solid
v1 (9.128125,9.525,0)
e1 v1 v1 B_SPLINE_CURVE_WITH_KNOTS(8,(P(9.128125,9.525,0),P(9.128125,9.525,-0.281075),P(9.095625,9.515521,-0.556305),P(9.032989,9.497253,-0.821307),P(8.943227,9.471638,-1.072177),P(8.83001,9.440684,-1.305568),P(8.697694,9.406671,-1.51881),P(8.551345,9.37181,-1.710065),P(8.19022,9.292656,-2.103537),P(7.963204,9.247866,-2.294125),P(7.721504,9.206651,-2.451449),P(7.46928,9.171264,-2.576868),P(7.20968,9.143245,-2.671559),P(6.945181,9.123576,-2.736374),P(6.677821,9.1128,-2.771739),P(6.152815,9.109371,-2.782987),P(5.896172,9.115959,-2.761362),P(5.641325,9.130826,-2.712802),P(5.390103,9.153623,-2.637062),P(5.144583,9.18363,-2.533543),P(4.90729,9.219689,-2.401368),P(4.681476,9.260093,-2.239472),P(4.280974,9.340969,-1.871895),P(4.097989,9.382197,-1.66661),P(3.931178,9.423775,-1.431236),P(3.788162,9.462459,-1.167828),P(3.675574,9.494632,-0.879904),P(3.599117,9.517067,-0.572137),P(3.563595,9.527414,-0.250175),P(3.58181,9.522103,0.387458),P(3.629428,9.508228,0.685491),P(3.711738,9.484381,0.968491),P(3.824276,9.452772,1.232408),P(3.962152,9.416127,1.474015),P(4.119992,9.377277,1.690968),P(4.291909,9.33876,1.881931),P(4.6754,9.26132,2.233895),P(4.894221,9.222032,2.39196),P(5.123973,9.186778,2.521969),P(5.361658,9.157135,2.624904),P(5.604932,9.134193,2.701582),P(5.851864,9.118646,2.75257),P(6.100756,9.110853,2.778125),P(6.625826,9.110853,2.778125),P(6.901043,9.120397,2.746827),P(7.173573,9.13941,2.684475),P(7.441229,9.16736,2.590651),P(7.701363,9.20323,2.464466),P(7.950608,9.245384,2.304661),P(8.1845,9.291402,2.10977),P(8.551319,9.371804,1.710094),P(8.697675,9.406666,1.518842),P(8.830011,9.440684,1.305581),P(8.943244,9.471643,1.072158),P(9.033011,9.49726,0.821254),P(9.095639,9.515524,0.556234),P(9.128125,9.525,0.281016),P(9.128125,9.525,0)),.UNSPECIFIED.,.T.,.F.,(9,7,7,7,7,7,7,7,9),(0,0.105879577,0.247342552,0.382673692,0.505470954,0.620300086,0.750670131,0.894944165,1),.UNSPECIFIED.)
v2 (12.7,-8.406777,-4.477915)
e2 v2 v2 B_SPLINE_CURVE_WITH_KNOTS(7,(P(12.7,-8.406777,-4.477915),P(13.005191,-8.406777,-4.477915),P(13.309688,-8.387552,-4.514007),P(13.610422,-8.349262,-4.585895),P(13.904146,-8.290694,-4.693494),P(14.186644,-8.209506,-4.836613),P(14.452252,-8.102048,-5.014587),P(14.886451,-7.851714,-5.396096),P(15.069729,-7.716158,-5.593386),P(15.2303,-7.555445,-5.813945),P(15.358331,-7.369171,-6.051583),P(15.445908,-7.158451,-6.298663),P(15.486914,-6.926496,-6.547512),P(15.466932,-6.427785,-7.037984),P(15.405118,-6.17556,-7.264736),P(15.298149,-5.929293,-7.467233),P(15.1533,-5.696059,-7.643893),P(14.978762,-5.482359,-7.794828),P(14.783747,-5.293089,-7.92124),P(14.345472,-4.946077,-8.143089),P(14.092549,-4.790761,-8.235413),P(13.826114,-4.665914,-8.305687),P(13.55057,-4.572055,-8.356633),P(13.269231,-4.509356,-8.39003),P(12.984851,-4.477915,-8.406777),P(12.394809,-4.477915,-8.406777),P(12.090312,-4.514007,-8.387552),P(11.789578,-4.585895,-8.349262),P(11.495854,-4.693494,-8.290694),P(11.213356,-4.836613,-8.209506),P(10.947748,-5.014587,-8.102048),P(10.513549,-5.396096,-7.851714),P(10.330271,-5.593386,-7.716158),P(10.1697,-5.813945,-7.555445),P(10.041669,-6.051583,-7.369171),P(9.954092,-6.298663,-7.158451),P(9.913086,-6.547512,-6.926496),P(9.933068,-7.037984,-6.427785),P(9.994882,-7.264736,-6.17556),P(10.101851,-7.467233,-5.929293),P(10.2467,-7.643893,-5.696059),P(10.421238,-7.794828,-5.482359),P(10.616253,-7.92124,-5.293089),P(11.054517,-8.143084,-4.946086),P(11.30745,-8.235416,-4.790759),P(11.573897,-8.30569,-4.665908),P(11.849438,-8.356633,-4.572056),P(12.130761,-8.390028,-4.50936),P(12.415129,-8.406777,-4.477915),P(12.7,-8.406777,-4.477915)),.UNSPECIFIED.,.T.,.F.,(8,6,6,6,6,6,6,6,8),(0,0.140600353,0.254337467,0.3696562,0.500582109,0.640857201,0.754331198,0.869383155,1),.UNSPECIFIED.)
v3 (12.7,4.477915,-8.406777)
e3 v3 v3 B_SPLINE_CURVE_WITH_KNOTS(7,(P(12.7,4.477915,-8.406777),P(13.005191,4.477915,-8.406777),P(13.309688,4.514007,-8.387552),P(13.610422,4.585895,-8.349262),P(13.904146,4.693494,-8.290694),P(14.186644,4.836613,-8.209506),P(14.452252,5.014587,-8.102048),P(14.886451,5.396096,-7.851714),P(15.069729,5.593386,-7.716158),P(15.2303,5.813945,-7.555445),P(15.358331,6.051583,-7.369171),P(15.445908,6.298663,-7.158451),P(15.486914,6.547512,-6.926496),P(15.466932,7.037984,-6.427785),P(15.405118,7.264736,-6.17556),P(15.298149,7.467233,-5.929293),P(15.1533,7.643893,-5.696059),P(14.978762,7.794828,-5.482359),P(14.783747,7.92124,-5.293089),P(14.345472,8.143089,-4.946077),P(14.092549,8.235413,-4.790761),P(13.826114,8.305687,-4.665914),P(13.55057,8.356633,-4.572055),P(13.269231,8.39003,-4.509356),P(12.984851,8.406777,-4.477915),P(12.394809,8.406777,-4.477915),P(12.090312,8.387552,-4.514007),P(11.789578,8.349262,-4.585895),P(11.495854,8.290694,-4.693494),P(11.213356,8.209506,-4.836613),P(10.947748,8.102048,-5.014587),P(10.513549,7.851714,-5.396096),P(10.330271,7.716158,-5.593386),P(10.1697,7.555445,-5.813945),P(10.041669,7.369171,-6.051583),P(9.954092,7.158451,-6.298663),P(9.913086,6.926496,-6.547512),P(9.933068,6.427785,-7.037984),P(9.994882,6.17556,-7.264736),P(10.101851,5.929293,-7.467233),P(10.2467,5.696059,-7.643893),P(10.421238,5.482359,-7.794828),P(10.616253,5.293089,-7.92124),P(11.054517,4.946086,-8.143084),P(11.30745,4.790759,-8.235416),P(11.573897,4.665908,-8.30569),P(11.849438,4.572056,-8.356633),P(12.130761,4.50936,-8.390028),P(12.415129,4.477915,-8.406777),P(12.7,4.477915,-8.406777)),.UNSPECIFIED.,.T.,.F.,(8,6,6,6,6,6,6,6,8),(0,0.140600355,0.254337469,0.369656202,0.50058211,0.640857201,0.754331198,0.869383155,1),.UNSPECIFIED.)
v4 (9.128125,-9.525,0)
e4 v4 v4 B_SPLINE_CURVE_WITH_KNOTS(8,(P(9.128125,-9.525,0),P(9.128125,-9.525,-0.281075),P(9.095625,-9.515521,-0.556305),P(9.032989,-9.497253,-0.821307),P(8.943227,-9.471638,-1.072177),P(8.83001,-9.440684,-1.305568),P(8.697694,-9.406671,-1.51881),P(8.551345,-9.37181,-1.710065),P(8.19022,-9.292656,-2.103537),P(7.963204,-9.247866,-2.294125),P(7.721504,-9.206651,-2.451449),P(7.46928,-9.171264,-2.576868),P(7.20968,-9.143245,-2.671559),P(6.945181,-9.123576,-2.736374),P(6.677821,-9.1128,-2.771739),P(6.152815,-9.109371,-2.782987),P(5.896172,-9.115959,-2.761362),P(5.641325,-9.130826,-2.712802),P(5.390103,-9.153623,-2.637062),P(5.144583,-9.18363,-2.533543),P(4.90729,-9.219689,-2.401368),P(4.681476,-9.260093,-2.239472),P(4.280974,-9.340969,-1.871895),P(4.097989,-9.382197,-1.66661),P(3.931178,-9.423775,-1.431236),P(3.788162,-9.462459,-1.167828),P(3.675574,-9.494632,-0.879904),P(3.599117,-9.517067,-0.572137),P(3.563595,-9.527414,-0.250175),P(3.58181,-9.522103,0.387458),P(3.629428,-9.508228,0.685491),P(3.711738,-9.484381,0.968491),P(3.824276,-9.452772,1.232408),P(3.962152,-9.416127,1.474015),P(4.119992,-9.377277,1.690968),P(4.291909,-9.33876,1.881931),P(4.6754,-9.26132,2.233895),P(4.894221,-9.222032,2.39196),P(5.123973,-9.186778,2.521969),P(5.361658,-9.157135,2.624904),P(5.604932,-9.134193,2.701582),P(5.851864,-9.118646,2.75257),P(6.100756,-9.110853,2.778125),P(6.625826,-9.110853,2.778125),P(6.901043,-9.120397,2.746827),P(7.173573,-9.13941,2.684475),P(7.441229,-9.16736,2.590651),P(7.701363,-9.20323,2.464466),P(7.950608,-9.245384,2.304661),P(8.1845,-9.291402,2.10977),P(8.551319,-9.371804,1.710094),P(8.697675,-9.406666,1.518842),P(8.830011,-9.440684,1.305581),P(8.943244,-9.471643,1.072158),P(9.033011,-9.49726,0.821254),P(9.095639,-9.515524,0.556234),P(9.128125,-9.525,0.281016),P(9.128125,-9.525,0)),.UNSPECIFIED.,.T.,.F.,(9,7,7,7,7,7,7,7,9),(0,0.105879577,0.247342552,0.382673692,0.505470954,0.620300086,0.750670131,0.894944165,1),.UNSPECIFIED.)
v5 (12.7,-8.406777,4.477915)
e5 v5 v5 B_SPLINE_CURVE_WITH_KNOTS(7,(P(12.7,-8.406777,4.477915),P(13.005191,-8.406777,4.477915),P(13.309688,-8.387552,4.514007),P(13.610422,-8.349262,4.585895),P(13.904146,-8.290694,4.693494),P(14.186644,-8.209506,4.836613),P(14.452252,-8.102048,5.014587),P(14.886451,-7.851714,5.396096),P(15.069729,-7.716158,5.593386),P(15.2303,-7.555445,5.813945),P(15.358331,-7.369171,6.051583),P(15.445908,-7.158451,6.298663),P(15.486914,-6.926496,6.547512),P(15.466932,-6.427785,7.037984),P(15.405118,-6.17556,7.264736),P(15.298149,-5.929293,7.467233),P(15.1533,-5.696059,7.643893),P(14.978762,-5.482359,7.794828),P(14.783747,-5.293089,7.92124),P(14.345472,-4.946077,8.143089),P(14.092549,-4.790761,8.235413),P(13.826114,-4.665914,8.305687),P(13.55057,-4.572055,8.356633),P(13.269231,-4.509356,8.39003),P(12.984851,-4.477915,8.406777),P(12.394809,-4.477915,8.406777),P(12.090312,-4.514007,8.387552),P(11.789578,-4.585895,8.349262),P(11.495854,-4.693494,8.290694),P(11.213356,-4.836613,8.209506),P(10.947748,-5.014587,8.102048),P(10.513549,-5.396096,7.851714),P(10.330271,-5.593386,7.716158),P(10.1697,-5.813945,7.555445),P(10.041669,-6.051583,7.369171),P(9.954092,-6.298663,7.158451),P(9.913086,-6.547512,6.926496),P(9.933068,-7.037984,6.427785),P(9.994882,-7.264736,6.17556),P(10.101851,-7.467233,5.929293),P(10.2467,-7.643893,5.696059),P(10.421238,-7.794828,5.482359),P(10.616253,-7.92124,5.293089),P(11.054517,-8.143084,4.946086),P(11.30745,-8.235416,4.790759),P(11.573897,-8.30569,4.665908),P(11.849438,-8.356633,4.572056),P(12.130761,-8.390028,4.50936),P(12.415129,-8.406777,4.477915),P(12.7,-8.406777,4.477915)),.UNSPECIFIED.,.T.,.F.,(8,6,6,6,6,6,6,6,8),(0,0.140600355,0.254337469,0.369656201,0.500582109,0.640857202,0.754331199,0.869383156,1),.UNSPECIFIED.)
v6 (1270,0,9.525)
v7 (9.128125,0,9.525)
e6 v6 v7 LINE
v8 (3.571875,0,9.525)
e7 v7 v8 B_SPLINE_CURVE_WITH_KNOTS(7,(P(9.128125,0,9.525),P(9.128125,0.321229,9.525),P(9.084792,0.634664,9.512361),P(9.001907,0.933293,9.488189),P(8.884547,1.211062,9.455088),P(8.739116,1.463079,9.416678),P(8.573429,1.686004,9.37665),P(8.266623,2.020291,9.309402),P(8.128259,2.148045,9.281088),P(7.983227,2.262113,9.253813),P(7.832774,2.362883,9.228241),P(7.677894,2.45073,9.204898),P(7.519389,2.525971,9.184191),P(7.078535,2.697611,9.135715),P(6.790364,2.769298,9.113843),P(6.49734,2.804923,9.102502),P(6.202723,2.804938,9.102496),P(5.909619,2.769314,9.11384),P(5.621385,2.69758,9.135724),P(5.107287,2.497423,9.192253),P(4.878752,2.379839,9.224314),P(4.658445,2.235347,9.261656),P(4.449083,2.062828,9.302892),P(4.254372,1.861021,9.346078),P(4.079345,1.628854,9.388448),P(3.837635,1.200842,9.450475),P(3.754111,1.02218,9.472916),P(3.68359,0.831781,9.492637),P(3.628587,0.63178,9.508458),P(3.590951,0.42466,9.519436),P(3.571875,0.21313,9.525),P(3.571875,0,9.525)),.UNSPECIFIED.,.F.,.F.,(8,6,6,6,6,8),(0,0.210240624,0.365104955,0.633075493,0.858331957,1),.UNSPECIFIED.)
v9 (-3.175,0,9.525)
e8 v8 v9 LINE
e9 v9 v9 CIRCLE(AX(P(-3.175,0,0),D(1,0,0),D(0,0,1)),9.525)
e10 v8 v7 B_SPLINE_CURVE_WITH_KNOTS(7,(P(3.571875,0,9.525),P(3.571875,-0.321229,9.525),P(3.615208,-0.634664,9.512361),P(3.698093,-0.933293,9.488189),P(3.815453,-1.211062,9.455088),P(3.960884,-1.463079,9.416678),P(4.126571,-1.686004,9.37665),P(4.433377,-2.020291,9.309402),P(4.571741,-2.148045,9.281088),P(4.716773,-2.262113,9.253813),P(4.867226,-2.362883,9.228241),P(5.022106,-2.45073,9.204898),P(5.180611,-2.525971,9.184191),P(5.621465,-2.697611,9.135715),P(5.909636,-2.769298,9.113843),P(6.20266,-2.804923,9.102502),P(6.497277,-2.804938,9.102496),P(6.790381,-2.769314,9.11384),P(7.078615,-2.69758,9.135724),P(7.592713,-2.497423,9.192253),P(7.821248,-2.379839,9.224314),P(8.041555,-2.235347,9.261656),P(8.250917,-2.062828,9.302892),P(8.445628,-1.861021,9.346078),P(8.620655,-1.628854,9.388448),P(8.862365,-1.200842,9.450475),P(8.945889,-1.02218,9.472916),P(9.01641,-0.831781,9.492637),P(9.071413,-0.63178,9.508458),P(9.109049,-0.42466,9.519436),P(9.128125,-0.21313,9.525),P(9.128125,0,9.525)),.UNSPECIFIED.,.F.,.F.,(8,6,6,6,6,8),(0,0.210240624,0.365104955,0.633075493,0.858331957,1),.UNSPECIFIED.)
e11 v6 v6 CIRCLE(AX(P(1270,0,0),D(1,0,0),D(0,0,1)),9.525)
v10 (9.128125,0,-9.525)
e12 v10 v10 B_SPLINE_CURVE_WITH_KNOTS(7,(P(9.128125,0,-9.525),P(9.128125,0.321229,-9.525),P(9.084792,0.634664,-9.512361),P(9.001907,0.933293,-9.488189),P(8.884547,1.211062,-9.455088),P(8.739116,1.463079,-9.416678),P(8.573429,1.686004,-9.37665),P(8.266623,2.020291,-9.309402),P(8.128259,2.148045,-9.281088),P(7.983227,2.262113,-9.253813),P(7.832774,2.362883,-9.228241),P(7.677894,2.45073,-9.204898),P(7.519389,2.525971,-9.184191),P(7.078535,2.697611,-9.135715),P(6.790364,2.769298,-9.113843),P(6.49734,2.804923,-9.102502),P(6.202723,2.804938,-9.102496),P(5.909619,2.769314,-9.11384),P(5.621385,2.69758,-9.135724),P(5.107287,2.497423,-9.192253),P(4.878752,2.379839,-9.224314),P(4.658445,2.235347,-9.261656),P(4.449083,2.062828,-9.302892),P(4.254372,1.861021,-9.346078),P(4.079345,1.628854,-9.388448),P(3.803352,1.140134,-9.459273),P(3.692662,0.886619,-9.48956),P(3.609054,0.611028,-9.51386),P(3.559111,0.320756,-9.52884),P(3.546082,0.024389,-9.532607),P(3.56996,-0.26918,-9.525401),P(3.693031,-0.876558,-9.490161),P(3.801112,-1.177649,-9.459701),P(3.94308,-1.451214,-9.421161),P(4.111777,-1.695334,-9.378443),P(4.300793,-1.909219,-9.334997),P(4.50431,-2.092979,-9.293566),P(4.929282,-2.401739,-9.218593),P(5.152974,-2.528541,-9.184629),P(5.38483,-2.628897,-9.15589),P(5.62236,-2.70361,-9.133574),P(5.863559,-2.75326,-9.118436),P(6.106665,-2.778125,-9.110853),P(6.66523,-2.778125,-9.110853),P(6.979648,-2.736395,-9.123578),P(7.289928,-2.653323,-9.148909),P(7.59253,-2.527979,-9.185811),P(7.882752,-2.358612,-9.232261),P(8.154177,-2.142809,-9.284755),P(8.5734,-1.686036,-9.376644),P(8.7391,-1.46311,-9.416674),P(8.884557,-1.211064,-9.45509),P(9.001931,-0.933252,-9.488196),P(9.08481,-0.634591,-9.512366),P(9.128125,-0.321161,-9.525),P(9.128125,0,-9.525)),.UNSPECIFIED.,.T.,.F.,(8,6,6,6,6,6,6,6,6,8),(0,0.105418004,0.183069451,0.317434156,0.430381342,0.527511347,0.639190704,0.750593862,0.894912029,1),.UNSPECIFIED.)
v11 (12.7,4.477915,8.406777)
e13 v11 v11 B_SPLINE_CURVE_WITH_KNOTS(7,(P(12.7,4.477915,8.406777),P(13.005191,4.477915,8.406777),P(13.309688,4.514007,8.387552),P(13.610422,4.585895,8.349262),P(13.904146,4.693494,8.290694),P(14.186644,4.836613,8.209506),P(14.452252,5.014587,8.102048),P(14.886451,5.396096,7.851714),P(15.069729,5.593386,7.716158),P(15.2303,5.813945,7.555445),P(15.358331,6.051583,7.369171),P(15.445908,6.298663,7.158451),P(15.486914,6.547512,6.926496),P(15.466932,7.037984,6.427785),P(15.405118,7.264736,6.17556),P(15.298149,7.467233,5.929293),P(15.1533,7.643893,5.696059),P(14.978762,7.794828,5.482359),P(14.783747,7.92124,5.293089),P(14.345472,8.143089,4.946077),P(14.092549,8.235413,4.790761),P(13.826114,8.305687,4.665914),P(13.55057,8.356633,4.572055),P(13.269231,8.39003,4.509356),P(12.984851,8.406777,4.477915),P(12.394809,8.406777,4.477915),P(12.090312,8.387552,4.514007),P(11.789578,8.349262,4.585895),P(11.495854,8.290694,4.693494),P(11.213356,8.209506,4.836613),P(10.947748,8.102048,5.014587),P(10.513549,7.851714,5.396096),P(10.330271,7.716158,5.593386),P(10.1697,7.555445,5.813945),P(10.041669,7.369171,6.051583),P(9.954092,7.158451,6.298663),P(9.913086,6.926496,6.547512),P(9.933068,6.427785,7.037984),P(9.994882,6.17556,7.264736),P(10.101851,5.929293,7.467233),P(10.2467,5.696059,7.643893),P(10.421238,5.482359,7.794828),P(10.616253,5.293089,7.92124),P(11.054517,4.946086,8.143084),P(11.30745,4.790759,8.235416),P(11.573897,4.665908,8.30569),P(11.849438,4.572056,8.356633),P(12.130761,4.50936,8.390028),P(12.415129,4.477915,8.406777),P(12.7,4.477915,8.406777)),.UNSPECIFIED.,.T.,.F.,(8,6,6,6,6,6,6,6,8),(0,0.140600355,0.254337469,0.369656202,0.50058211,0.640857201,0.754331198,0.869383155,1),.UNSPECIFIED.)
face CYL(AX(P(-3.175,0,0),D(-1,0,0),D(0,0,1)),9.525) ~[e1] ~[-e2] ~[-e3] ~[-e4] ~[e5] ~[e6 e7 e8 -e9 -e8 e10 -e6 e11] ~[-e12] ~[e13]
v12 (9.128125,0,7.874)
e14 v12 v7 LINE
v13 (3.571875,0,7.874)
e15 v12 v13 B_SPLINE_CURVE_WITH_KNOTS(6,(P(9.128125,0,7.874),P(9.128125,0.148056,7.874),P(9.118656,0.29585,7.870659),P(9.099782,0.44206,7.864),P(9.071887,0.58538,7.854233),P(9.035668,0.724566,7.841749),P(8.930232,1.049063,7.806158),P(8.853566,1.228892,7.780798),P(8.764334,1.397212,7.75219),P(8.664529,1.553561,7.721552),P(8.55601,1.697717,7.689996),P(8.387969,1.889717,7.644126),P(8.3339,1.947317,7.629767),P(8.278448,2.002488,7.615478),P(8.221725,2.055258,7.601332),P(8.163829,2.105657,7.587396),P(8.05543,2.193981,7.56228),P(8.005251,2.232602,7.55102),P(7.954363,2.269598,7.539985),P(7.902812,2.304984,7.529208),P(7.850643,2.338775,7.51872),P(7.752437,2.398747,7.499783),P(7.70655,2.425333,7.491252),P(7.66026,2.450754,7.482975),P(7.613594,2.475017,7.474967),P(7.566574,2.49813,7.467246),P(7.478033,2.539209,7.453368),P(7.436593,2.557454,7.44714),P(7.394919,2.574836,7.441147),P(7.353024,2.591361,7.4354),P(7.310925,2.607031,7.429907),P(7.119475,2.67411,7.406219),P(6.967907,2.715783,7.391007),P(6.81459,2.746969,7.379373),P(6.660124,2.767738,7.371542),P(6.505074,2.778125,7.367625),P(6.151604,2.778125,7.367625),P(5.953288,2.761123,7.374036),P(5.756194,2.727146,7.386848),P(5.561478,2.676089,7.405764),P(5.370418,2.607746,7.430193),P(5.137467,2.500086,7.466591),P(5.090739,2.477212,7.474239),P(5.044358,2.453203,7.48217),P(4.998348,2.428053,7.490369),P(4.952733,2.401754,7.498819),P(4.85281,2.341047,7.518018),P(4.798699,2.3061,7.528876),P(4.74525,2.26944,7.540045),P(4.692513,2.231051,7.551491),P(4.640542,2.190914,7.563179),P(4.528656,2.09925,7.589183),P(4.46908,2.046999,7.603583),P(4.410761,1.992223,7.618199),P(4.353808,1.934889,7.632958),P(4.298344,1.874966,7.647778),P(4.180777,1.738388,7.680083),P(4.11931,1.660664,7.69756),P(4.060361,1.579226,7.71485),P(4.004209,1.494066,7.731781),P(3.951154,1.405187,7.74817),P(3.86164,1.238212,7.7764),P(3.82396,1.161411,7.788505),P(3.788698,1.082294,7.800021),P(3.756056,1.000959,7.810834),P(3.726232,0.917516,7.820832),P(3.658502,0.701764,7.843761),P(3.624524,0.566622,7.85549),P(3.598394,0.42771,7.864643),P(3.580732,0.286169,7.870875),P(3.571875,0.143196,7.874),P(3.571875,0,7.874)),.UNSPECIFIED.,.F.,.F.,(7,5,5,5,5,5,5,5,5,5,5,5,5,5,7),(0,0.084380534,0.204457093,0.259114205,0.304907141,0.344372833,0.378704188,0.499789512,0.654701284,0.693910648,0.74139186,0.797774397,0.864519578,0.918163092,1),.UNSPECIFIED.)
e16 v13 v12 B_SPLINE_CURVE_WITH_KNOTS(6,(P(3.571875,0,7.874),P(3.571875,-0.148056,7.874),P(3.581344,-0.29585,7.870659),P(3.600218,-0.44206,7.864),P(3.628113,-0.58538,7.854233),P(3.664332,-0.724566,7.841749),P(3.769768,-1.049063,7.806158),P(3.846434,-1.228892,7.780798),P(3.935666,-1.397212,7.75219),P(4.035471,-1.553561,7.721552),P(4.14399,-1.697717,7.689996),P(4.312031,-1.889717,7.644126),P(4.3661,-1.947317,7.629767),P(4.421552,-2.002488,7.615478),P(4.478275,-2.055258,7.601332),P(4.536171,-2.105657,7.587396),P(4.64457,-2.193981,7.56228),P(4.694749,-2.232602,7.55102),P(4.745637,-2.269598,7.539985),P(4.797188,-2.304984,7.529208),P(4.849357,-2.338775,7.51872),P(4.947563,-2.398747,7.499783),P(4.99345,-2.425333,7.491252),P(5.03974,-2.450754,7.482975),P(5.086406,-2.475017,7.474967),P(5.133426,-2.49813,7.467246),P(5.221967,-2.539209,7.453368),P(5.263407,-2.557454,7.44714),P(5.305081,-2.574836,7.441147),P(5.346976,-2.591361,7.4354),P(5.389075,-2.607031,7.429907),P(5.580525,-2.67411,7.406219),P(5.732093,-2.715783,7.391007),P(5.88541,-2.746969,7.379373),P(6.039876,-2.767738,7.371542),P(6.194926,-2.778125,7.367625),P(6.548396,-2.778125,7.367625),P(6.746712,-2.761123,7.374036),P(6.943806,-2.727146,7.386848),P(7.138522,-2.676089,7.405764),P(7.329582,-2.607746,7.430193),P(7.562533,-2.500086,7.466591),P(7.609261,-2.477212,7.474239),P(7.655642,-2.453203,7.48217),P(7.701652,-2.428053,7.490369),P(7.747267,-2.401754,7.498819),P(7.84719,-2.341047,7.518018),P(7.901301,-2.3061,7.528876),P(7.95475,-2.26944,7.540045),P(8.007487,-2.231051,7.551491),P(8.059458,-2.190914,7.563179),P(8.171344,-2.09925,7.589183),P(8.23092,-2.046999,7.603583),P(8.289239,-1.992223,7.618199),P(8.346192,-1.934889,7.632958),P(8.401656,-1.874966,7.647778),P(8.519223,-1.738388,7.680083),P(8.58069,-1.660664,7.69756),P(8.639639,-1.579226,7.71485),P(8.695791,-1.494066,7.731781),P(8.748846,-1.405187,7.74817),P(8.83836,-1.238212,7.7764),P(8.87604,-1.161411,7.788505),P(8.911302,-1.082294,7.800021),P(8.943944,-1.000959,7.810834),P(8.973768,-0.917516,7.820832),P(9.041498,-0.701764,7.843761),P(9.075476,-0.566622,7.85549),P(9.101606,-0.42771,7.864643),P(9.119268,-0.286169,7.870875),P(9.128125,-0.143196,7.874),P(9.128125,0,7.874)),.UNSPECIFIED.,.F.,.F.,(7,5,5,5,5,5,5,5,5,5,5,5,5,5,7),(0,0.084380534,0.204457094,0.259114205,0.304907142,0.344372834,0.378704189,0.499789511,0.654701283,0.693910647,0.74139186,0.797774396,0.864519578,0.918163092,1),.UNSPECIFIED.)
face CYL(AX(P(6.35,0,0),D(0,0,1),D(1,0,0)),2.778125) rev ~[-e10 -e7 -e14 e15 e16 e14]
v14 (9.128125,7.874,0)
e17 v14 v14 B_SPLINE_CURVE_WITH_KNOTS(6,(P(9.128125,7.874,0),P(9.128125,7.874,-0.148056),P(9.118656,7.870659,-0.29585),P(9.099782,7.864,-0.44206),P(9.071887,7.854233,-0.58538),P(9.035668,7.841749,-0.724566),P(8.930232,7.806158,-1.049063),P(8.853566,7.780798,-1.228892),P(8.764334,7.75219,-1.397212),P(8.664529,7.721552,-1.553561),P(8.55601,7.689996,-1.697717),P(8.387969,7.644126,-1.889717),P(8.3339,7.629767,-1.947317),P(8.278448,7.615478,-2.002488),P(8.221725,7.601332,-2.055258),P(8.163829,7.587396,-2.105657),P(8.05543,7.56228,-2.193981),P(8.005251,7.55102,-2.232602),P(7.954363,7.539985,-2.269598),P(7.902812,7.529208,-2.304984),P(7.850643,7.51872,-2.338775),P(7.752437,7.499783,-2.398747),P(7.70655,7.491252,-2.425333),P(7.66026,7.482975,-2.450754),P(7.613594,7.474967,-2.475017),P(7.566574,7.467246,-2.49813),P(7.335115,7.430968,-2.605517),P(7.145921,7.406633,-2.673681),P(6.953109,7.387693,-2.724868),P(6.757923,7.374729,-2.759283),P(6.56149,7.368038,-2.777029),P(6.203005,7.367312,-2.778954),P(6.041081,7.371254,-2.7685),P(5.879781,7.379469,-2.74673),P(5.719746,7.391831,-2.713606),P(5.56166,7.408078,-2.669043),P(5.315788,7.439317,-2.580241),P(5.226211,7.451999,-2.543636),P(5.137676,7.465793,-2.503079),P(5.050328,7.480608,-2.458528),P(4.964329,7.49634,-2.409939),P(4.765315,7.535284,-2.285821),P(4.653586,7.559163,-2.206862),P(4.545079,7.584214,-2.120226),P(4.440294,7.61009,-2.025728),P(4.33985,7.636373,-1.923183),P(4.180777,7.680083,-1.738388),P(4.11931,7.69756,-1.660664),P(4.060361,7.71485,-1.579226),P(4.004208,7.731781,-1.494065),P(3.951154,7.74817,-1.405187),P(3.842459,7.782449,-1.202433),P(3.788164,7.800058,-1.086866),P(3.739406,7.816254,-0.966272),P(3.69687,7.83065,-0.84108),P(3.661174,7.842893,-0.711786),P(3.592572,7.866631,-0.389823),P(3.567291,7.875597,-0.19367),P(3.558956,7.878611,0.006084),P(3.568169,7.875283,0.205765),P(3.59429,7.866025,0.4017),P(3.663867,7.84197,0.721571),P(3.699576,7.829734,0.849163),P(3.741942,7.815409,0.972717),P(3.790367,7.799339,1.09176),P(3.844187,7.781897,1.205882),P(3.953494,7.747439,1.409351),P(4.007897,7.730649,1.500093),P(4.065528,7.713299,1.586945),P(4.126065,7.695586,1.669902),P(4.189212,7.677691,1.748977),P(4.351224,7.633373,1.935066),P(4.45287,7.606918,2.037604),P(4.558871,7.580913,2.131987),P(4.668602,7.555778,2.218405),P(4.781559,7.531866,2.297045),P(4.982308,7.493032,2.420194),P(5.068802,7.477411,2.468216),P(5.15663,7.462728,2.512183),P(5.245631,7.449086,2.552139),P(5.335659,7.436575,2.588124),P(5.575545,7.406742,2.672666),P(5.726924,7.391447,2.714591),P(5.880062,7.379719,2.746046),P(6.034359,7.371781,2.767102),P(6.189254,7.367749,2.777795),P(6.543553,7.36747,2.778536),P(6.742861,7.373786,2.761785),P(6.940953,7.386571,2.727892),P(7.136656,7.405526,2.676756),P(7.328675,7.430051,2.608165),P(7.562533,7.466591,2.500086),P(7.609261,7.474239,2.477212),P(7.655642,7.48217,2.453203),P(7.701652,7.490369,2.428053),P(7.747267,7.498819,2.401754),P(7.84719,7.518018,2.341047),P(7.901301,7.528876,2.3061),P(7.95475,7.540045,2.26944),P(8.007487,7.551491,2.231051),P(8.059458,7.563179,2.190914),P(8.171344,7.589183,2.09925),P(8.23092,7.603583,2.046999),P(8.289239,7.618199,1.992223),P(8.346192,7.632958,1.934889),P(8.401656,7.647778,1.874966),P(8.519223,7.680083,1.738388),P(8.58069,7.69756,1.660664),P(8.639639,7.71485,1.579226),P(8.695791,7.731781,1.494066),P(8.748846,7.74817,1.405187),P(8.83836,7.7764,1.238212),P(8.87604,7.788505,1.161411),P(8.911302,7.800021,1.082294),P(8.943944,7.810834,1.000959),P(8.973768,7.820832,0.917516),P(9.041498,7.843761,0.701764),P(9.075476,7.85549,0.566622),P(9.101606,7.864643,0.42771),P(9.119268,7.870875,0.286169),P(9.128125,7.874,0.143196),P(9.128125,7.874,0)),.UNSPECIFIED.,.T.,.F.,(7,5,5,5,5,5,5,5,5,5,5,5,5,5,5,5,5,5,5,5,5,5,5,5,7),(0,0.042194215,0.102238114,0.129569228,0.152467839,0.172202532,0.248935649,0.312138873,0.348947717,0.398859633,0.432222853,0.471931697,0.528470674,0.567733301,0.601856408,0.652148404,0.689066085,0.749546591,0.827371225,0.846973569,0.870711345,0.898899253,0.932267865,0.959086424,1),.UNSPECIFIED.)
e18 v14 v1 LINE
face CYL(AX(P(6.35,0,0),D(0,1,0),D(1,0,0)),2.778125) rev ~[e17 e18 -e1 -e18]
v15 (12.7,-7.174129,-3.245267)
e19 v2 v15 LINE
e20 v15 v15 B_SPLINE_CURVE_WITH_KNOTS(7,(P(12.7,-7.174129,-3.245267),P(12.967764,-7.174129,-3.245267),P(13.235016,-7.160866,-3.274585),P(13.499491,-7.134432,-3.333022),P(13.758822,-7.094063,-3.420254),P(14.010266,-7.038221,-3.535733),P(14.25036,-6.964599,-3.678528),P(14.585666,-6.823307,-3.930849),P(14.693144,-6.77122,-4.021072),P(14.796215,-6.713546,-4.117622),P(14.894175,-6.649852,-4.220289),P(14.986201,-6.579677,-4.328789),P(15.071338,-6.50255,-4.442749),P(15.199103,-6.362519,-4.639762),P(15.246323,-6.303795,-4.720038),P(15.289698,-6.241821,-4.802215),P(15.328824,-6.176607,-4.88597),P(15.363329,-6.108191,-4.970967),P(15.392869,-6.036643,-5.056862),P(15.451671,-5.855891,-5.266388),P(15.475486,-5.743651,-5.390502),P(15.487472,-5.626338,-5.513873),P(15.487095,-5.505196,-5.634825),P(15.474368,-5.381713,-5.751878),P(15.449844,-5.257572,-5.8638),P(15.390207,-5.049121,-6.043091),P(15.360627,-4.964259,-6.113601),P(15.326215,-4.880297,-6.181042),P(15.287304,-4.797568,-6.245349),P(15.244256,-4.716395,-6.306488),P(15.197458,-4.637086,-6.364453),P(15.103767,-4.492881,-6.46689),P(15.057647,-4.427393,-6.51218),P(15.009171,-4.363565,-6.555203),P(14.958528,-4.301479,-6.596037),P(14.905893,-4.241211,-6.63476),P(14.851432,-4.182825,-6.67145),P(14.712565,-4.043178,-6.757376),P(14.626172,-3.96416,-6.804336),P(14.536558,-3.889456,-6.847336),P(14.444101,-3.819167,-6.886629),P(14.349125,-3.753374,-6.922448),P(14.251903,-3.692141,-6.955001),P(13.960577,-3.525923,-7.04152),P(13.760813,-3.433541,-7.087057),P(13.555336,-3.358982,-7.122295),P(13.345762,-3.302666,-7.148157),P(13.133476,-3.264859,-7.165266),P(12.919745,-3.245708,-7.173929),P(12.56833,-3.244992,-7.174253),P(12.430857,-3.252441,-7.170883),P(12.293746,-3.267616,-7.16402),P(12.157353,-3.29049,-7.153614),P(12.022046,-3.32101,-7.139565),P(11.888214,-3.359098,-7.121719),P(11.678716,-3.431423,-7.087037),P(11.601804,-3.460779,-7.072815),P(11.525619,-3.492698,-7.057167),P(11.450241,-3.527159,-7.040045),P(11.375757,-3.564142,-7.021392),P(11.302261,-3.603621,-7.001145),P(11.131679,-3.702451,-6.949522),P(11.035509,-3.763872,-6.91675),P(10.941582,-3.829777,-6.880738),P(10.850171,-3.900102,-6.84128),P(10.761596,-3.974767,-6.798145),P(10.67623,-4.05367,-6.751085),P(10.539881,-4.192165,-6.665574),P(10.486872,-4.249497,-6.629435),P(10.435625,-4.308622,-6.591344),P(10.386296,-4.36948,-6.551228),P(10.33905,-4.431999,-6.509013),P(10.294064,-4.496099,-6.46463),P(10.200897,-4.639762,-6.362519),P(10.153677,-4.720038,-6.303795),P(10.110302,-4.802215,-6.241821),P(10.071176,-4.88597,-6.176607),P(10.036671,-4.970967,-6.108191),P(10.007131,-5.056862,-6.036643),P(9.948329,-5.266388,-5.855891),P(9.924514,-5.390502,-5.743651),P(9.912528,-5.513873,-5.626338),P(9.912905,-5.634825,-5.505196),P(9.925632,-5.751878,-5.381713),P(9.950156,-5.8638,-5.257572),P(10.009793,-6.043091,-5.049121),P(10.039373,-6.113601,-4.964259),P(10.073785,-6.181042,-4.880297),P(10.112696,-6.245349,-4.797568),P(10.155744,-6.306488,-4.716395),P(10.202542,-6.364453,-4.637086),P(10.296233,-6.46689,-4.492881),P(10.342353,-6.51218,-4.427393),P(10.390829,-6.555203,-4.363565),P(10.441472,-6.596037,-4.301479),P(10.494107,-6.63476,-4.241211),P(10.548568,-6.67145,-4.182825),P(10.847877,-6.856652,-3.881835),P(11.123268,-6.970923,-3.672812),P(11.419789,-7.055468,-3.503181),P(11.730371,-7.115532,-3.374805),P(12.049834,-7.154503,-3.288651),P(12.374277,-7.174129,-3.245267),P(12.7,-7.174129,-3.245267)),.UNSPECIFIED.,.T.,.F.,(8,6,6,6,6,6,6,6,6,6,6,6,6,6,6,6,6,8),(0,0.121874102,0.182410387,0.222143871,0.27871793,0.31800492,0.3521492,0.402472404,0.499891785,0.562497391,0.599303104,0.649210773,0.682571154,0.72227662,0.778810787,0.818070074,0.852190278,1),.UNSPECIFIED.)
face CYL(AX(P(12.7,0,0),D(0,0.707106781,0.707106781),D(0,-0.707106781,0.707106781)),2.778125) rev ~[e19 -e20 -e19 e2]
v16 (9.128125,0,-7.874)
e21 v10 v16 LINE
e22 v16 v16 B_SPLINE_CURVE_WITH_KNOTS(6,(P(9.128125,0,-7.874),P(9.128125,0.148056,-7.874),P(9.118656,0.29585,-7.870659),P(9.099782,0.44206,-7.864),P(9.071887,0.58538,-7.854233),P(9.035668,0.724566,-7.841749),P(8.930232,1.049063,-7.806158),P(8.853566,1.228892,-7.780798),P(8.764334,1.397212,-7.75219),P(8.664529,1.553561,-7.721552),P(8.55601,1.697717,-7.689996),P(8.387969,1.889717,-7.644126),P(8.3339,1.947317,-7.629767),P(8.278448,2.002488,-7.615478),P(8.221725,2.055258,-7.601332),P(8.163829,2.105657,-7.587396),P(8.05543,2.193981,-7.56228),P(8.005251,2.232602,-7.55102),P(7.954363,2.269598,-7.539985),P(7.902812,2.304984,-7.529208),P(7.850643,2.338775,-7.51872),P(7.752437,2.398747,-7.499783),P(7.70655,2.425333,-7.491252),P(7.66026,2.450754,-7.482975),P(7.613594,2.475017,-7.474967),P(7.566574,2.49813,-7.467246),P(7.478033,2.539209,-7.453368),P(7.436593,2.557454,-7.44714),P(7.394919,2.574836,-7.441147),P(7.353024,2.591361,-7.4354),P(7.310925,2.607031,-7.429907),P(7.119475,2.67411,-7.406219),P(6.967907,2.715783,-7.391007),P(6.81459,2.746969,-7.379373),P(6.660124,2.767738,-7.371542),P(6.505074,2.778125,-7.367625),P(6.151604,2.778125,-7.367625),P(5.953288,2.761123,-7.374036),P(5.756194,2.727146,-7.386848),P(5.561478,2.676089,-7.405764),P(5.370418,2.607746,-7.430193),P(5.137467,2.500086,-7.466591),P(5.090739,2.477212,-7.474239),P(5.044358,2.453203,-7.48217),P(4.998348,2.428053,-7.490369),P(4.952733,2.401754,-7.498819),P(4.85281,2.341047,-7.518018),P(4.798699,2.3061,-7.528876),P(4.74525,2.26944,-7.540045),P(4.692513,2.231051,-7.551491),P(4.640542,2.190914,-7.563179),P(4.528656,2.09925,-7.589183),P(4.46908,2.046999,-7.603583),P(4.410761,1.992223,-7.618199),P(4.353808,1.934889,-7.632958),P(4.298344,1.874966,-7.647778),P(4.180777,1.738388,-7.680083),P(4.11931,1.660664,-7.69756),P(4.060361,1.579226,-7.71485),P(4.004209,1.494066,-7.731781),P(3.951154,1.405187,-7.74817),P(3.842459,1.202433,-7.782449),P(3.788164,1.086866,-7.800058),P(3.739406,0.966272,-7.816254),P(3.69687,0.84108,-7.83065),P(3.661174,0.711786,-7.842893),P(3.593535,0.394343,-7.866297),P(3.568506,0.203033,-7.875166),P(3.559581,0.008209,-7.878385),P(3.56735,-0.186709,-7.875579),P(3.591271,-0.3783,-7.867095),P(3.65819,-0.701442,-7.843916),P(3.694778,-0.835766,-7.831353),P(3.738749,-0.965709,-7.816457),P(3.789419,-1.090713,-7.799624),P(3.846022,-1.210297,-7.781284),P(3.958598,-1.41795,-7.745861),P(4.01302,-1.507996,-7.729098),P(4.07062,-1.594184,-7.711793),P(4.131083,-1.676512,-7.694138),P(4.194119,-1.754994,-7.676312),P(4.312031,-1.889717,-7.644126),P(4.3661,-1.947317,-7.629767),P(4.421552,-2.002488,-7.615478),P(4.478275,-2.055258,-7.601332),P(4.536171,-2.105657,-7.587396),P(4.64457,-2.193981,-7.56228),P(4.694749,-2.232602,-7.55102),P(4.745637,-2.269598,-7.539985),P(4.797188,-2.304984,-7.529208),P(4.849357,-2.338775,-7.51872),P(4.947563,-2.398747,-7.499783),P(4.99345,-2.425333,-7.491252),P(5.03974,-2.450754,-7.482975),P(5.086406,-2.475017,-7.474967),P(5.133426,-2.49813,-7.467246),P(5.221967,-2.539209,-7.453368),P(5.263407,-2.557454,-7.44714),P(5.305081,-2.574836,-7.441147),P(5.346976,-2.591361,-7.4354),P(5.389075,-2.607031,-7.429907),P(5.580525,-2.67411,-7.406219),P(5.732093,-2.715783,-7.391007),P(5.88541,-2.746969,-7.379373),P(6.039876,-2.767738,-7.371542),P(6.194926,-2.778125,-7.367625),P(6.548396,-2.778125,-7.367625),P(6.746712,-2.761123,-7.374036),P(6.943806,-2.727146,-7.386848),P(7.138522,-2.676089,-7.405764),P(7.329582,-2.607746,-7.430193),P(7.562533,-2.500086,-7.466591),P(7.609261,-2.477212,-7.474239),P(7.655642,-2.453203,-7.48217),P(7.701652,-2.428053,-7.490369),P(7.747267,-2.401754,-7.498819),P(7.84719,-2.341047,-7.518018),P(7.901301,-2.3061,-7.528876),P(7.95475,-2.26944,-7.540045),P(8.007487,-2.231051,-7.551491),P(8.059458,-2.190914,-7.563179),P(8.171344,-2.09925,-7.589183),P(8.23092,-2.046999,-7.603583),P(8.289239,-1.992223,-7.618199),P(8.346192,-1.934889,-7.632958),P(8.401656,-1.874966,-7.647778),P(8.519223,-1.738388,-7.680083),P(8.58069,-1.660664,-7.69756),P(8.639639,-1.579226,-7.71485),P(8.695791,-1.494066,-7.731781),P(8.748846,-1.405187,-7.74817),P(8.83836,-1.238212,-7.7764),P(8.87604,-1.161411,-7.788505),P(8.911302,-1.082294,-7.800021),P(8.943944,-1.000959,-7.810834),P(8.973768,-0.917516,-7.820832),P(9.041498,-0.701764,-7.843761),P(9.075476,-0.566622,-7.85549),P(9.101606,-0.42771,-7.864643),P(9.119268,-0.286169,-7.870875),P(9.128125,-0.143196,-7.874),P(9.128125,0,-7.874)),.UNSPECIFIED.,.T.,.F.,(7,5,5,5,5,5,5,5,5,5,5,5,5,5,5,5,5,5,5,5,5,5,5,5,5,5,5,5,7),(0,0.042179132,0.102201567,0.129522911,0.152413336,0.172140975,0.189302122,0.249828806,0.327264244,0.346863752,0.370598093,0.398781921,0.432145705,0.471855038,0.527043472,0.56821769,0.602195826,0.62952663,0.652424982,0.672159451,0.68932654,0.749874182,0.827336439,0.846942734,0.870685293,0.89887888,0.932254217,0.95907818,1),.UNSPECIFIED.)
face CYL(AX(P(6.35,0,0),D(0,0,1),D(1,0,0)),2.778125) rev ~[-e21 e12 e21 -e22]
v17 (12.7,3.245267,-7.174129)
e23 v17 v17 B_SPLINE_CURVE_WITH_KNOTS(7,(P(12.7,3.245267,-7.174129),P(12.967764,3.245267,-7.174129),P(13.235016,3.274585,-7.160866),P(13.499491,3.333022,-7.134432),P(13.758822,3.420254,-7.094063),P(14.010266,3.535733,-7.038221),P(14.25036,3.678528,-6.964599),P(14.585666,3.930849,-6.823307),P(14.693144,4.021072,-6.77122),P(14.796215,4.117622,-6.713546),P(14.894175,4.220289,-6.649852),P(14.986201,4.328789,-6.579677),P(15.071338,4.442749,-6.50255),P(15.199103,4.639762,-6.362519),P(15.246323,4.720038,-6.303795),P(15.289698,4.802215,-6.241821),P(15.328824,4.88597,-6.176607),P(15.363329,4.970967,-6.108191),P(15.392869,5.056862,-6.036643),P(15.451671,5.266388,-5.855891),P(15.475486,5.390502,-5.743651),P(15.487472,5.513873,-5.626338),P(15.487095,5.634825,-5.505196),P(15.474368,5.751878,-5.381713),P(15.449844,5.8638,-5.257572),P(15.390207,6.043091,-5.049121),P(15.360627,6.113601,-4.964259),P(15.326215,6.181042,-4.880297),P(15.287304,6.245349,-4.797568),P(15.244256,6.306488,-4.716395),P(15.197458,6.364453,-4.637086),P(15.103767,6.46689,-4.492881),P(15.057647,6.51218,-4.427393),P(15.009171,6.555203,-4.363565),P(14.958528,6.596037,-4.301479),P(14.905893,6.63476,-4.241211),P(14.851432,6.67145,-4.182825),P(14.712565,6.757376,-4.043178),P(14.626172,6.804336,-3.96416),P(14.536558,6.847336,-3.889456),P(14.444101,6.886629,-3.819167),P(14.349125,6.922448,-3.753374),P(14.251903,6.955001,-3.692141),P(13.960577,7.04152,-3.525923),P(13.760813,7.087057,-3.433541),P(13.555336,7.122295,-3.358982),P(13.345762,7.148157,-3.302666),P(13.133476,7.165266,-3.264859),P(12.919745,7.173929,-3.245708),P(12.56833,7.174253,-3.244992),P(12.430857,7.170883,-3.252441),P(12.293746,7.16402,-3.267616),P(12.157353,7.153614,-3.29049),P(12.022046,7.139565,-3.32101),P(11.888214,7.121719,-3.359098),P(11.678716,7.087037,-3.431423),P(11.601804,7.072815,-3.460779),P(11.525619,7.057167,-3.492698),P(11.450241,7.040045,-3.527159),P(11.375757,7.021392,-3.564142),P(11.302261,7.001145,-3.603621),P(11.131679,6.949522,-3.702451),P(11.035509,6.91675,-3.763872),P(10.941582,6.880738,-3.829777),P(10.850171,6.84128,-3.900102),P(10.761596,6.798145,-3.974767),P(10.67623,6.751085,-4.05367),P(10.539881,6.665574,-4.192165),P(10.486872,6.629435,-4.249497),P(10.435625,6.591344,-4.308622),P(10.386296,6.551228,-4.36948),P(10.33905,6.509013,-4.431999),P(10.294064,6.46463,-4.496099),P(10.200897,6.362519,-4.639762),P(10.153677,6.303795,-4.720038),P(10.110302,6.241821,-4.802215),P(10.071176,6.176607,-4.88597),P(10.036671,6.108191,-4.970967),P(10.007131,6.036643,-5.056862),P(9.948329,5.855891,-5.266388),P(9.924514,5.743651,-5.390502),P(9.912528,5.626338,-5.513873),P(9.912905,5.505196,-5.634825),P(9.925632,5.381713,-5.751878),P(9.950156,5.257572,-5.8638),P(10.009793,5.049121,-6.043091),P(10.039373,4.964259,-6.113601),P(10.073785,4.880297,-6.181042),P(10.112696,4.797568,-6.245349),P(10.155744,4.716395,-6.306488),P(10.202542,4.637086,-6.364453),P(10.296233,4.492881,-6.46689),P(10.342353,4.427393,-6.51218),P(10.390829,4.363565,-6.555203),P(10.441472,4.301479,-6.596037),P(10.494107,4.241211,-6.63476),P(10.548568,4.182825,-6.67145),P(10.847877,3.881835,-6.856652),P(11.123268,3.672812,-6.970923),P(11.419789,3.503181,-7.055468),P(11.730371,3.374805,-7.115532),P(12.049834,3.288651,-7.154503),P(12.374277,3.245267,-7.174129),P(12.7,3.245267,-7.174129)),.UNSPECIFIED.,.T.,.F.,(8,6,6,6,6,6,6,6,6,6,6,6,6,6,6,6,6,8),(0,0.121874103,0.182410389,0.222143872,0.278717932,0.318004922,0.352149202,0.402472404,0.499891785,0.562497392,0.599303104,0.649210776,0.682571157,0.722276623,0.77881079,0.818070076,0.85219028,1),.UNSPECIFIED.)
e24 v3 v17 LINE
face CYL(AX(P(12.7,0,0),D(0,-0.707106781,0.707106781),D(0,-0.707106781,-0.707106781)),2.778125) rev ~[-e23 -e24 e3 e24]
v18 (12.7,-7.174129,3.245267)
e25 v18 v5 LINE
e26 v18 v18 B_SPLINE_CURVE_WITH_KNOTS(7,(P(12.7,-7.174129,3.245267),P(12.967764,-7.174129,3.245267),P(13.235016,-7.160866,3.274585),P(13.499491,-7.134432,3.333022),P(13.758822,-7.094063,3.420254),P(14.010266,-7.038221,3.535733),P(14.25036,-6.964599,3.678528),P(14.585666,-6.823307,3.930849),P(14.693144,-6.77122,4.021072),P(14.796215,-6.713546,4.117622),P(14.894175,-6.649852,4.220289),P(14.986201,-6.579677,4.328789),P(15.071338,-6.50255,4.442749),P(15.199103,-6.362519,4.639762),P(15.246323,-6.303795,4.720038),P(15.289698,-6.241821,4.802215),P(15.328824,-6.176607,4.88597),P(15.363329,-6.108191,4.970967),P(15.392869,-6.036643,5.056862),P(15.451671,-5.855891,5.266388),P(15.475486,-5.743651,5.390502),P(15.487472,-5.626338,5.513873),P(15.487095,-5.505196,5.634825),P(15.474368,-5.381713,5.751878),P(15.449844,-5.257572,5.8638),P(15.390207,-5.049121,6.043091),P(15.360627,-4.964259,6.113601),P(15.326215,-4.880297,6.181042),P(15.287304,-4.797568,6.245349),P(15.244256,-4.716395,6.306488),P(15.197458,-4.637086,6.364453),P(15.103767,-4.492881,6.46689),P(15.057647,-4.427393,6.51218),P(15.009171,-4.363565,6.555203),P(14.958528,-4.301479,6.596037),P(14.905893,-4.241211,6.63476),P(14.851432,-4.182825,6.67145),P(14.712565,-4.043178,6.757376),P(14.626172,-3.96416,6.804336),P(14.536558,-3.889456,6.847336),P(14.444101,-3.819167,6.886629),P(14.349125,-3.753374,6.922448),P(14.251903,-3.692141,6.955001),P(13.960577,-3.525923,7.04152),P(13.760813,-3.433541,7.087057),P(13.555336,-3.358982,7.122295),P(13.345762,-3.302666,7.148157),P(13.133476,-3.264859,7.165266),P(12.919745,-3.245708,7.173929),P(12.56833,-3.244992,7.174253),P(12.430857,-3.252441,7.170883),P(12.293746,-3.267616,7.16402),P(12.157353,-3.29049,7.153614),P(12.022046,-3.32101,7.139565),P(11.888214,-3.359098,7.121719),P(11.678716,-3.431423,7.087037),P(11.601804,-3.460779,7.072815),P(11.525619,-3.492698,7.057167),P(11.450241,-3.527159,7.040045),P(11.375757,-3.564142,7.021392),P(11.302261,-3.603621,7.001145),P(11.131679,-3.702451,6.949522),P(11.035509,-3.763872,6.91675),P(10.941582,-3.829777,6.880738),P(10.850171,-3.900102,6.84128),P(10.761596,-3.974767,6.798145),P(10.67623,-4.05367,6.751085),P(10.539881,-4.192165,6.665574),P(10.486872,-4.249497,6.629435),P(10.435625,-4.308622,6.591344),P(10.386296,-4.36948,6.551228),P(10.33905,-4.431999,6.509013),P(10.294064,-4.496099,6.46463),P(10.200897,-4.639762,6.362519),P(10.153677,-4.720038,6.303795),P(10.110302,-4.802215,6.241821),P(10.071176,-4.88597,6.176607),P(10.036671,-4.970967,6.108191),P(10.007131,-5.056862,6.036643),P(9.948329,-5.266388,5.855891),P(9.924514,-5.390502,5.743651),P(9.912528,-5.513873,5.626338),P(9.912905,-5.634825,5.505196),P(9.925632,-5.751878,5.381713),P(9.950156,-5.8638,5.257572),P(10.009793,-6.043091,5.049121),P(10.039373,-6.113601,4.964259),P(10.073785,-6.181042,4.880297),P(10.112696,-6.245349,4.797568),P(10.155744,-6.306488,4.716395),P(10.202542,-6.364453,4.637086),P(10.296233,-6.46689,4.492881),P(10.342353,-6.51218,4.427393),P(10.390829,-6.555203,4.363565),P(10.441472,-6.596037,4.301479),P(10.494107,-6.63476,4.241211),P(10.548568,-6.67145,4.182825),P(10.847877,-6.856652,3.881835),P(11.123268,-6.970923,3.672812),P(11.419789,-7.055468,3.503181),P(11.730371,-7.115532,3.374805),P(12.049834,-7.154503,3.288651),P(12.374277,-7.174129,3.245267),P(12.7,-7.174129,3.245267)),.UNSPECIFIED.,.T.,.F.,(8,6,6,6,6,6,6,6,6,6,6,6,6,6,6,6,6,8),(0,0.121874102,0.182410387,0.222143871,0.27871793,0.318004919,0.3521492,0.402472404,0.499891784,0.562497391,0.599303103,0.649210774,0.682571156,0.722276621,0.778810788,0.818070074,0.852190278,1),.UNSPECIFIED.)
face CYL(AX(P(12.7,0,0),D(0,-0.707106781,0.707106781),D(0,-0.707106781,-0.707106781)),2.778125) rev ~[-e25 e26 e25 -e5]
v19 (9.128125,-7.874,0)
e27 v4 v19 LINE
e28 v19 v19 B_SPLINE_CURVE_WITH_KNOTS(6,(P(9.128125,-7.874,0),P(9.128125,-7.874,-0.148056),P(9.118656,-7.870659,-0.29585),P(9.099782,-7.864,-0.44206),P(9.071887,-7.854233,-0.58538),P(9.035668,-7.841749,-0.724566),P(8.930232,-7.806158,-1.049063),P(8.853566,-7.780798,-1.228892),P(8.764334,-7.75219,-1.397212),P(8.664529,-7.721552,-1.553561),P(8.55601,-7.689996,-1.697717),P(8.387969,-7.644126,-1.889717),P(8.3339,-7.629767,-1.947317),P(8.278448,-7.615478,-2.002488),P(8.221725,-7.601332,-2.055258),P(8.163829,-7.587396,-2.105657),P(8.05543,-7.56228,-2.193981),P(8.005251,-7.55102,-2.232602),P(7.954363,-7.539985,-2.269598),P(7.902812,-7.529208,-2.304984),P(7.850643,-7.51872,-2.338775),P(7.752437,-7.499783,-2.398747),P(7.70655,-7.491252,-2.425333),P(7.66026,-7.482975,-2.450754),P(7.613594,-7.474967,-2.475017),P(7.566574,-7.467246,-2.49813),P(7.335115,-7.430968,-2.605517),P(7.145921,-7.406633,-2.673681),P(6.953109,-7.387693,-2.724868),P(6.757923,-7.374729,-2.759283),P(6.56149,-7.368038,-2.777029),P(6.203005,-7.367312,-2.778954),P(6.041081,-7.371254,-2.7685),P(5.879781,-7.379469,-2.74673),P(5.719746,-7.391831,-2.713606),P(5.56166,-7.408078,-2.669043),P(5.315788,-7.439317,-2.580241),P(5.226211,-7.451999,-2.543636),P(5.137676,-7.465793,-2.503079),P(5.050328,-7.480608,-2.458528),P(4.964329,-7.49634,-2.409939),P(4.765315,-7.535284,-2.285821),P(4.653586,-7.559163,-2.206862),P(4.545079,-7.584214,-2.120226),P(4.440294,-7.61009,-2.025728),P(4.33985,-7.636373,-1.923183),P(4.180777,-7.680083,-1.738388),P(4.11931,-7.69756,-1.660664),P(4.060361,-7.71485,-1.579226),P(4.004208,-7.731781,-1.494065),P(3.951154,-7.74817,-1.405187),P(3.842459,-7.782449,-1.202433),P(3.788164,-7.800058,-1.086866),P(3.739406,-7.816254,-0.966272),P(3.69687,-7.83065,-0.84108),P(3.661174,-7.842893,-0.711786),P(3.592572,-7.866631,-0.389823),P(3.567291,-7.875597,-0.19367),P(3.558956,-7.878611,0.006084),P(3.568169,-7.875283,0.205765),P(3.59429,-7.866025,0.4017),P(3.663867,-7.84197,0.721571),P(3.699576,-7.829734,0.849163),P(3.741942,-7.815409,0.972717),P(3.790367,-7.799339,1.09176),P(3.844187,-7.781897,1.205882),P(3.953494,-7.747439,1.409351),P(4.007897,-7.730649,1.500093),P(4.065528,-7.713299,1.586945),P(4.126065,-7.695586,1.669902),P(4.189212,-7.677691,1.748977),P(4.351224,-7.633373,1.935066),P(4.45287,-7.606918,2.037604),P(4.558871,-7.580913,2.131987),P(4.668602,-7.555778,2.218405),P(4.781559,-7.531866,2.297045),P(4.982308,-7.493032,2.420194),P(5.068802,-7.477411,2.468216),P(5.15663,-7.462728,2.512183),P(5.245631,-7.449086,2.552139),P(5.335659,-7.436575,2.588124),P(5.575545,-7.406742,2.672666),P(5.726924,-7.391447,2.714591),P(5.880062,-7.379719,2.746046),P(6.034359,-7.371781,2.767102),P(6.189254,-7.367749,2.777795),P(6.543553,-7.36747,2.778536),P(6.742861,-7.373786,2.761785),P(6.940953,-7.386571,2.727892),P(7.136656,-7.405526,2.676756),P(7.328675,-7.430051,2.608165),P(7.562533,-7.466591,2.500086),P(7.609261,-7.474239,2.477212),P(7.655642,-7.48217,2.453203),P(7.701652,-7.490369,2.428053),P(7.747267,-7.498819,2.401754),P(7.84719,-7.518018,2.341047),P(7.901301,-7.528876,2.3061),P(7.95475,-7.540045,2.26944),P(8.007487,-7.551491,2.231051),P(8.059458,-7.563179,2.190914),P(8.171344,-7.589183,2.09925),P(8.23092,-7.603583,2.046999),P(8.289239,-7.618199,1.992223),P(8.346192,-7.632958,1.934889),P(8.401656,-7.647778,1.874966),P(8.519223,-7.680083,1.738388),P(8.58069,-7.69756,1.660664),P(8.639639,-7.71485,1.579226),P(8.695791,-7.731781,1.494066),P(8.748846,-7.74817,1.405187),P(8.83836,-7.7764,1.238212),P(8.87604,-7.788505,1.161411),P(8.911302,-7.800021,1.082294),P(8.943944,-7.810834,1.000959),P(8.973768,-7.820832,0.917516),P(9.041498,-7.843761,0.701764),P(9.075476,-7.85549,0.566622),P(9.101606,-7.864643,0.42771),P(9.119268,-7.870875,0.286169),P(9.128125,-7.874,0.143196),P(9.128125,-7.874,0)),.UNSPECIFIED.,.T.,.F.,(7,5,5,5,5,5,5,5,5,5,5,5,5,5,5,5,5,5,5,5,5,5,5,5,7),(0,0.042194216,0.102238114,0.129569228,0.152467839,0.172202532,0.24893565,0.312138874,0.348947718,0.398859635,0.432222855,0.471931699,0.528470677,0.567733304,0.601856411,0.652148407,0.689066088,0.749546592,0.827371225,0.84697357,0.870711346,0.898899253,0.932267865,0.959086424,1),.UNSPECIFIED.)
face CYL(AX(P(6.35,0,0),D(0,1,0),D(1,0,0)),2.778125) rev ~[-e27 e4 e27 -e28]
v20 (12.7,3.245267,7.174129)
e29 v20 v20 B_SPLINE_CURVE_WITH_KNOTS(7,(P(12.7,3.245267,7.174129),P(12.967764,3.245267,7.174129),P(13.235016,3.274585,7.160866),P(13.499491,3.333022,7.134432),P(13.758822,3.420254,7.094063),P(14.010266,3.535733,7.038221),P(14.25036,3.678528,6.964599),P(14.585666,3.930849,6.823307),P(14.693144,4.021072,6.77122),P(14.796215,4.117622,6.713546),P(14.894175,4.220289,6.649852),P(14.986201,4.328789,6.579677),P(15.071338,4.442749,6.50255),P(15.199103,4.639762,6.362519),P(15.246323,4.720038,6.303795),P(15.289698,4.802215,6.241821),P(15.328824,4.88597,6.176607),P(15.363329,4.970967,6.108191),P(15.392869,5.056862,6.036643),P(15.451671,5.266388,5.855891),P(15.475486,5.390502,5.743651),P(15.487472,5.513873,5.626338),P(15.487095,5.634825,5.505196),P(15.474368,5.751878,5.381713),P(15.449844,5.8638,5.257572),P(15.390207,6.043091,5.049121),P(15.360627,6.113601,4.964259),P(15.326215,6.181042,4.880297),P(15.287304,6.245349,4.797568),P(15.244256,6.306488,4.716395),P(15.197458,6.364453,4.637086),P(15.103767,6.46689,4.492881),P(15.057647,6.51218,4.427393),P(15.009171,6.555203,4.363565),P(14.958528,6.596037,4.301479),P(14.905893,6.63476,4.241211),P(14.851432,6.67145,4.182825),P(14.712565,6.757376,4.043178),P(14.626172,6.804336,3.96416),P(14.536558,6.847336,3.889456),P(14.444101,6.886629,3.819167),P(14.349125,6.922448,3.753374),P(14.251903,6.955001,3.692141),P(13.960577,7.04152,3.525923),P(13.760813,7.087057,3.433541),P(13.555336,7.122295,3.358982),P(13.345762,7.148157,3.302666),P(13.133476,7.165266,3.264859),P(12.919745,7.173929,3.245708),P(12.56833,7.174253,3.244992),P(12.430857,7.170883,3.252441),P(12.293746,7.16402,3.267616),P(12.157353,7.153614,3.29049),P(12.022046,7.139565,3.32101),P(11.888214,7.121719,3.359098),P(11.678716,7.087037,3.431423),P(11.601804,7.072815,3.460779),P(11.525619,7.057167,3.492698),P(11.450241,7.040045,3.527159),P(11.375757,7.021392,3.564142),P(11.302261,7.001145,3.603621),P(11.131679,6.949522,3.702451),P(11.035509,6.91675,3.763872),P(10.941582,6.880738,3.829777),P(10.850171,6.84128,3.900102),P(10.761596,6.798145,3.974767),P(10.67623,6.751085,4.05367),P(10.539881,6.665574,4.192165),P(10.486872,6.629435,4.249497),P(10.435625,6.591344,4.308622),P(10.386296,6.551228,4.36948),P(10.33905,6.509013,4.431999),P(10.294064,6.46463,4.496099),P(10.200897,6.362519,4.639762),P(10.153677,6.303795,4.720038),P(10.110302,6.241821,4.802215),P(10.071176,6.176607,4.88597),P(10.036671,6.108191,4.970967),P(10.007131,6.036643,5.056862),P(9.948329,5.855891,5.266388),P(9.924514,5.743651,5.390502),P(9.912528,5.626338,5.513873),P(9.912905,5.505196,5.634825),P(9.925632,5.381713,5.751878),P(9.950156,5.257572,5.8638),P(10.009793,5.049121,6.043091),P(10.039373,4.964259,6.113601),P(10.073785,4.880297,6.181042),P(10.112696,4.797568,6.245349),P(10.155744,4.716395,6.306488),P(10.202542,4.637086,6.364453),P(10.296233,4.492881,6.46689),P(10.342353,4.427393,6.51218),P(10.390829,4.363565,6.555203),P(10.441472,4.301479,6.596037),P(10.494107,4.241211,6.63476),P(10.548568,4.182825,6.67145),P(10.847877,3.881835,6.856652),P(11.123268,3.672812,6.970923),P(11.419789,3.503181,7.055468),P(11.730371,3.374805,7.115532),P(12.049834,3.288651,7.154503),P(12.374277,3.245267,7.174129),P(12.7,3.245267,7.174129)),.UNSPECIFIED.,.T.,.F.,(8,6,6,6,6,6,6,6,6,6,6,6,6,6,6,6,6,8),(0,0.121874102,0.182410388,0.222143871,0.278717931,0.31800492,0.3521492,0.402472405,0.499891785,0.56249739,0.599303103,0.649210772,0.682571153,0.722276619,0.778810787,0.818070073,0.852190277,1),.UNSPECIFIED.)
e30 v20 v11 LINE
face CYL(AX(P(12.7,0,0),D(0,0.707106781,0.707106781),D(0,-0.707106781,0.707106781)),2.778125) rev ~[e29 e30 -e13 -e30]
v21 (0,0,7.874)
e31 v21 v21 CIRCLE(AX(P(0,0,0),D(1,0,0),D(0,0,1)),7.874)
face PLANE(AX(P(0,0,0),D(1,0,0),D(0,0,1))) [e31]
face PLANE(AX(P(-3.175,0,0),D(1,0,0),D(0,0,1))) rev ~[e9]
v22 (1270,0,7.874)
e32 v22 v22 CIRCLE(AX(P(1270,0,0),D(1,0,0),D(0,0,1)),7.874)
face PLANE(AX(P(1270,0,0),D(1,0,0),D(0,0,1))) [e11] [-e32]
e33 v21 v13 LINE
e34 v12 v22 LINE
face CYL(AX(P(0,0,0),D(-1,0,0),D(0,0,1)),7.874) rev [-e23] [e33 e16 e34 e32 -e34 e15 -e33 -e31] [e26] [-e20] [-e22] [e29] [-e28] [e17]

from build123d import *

# Parameters (mm, degrees)
SKETCH1_R           = 9.525
SKETCH1_R_2         = 7.874
BOSS_EXTRUDE1_DEPTH = 1270
BOSS_EXTRUDE2_START = -3.175
SKETCH2_R           = 9.525
BOSS_EXTRUDE2_DEPTH = 3.175
SKETCH3_R           = 2.778125
CUT_EXTRUDE1_DEPTH  = 12.7
CIRPATTERN1_COUNT   = 2
CIRPATTERN1_ANGLE   = 90
SKETCH4_R           = 2.778125
CUT_EXTRUDE2_DEPTH  = 12.7
CIRPATTERN2_COUNT   = 2
CIRPATTERN2_ANGLE   = 90


with BuildPart() as part:
    # Sketch1 → Boss-Extrude1 (new body)
    with BuildSketch(Plane(origin=(0, 0, 0), x_dir=(0, 0, -1), z_dir=(1, 0, 0))):
        with Locations(Location((0, 0, 0), (0, 0, 180))):
            Circle(SKETCH1_R)
        with Locations(Location((0, 0, 0), (0, 0, 180))):
            Circle(SKETCH1_R_2, mode=Mode.SUBTRACT)
    extrude(amount=BOSS_EXTRUDE1_DEPTH)

    # Sketch2 → Boss-Extrude2 (add)
    with BuildSketch(Plane(origin=(0, 0, 0), x_dir=(0, 0, -1), z_dir=(1, 0, 0)).offset(BOSS_EXTRUDE2_START)):
        with Locations(Location((0, 0, 0), (0, 0, 180))):
            Circle(SKETCH2_R)
    extrude(amount=BOSS_EXTRUDE2_DEPTH)

    # Sketch3 → Cut-Extrude1 (cut, symmetric)
    with BuildSketch(Plane.XY):
        with Locations((6.35, 0)):
            Circle(SKETCH3_R)
    cut_extrude1 = extrude(amount=CUT_EXTRUDE1_DEPTH, both=True, mode=Mode.SUBTRACT)

    # CirPattern1: Cut-Extrude1 ×2 about axis
    cirpattern1_axis = Axis((1270, 0, 0), (-1, 0, 0))
    for i in range(1, CIRPATTERN1_COUNT):
        add(cut_extrude1.rotate(cirpattern1_axis, i * CIRPATTERN1_ANGLE / (CIRPATTERN1_COUNT - 1)), mode=Mode.SUBTRACT)

    # Sketch4 → Cut-Extrude2 (cut, symmetric)
    with BuildSketch(Plane(origin=(0, 0, 0), x_dir=(1, 0, 0), z_dir=(0, -0.7071067811865488, 0.7071067811865464))):
        with Locations(Location((12.7, 0, 0), (0, 0, 270))):
            Circle(SKETCH4_R)
    cut_extrude2 = extrude(amount=CUT_EXTRUDE2_DEPTH, both=True, mode=Mode.SUBTRACT)

    # CirPattern2: Cut-Extrude2 ×2 about axis
    cirpattern2_axis = Axis((1270, 0, 0), (-1, 0, 0))
    for i in range(1, CIRPATTERN2_COUNT):
        add(cut_extrude2.rotate(cirpattern2_axis, i * CIRPATTERN2_ANGLE / (CIRPATTERN2_COUNT - 1)), mode=Mode.SUBTRACT)


solid = part.part
